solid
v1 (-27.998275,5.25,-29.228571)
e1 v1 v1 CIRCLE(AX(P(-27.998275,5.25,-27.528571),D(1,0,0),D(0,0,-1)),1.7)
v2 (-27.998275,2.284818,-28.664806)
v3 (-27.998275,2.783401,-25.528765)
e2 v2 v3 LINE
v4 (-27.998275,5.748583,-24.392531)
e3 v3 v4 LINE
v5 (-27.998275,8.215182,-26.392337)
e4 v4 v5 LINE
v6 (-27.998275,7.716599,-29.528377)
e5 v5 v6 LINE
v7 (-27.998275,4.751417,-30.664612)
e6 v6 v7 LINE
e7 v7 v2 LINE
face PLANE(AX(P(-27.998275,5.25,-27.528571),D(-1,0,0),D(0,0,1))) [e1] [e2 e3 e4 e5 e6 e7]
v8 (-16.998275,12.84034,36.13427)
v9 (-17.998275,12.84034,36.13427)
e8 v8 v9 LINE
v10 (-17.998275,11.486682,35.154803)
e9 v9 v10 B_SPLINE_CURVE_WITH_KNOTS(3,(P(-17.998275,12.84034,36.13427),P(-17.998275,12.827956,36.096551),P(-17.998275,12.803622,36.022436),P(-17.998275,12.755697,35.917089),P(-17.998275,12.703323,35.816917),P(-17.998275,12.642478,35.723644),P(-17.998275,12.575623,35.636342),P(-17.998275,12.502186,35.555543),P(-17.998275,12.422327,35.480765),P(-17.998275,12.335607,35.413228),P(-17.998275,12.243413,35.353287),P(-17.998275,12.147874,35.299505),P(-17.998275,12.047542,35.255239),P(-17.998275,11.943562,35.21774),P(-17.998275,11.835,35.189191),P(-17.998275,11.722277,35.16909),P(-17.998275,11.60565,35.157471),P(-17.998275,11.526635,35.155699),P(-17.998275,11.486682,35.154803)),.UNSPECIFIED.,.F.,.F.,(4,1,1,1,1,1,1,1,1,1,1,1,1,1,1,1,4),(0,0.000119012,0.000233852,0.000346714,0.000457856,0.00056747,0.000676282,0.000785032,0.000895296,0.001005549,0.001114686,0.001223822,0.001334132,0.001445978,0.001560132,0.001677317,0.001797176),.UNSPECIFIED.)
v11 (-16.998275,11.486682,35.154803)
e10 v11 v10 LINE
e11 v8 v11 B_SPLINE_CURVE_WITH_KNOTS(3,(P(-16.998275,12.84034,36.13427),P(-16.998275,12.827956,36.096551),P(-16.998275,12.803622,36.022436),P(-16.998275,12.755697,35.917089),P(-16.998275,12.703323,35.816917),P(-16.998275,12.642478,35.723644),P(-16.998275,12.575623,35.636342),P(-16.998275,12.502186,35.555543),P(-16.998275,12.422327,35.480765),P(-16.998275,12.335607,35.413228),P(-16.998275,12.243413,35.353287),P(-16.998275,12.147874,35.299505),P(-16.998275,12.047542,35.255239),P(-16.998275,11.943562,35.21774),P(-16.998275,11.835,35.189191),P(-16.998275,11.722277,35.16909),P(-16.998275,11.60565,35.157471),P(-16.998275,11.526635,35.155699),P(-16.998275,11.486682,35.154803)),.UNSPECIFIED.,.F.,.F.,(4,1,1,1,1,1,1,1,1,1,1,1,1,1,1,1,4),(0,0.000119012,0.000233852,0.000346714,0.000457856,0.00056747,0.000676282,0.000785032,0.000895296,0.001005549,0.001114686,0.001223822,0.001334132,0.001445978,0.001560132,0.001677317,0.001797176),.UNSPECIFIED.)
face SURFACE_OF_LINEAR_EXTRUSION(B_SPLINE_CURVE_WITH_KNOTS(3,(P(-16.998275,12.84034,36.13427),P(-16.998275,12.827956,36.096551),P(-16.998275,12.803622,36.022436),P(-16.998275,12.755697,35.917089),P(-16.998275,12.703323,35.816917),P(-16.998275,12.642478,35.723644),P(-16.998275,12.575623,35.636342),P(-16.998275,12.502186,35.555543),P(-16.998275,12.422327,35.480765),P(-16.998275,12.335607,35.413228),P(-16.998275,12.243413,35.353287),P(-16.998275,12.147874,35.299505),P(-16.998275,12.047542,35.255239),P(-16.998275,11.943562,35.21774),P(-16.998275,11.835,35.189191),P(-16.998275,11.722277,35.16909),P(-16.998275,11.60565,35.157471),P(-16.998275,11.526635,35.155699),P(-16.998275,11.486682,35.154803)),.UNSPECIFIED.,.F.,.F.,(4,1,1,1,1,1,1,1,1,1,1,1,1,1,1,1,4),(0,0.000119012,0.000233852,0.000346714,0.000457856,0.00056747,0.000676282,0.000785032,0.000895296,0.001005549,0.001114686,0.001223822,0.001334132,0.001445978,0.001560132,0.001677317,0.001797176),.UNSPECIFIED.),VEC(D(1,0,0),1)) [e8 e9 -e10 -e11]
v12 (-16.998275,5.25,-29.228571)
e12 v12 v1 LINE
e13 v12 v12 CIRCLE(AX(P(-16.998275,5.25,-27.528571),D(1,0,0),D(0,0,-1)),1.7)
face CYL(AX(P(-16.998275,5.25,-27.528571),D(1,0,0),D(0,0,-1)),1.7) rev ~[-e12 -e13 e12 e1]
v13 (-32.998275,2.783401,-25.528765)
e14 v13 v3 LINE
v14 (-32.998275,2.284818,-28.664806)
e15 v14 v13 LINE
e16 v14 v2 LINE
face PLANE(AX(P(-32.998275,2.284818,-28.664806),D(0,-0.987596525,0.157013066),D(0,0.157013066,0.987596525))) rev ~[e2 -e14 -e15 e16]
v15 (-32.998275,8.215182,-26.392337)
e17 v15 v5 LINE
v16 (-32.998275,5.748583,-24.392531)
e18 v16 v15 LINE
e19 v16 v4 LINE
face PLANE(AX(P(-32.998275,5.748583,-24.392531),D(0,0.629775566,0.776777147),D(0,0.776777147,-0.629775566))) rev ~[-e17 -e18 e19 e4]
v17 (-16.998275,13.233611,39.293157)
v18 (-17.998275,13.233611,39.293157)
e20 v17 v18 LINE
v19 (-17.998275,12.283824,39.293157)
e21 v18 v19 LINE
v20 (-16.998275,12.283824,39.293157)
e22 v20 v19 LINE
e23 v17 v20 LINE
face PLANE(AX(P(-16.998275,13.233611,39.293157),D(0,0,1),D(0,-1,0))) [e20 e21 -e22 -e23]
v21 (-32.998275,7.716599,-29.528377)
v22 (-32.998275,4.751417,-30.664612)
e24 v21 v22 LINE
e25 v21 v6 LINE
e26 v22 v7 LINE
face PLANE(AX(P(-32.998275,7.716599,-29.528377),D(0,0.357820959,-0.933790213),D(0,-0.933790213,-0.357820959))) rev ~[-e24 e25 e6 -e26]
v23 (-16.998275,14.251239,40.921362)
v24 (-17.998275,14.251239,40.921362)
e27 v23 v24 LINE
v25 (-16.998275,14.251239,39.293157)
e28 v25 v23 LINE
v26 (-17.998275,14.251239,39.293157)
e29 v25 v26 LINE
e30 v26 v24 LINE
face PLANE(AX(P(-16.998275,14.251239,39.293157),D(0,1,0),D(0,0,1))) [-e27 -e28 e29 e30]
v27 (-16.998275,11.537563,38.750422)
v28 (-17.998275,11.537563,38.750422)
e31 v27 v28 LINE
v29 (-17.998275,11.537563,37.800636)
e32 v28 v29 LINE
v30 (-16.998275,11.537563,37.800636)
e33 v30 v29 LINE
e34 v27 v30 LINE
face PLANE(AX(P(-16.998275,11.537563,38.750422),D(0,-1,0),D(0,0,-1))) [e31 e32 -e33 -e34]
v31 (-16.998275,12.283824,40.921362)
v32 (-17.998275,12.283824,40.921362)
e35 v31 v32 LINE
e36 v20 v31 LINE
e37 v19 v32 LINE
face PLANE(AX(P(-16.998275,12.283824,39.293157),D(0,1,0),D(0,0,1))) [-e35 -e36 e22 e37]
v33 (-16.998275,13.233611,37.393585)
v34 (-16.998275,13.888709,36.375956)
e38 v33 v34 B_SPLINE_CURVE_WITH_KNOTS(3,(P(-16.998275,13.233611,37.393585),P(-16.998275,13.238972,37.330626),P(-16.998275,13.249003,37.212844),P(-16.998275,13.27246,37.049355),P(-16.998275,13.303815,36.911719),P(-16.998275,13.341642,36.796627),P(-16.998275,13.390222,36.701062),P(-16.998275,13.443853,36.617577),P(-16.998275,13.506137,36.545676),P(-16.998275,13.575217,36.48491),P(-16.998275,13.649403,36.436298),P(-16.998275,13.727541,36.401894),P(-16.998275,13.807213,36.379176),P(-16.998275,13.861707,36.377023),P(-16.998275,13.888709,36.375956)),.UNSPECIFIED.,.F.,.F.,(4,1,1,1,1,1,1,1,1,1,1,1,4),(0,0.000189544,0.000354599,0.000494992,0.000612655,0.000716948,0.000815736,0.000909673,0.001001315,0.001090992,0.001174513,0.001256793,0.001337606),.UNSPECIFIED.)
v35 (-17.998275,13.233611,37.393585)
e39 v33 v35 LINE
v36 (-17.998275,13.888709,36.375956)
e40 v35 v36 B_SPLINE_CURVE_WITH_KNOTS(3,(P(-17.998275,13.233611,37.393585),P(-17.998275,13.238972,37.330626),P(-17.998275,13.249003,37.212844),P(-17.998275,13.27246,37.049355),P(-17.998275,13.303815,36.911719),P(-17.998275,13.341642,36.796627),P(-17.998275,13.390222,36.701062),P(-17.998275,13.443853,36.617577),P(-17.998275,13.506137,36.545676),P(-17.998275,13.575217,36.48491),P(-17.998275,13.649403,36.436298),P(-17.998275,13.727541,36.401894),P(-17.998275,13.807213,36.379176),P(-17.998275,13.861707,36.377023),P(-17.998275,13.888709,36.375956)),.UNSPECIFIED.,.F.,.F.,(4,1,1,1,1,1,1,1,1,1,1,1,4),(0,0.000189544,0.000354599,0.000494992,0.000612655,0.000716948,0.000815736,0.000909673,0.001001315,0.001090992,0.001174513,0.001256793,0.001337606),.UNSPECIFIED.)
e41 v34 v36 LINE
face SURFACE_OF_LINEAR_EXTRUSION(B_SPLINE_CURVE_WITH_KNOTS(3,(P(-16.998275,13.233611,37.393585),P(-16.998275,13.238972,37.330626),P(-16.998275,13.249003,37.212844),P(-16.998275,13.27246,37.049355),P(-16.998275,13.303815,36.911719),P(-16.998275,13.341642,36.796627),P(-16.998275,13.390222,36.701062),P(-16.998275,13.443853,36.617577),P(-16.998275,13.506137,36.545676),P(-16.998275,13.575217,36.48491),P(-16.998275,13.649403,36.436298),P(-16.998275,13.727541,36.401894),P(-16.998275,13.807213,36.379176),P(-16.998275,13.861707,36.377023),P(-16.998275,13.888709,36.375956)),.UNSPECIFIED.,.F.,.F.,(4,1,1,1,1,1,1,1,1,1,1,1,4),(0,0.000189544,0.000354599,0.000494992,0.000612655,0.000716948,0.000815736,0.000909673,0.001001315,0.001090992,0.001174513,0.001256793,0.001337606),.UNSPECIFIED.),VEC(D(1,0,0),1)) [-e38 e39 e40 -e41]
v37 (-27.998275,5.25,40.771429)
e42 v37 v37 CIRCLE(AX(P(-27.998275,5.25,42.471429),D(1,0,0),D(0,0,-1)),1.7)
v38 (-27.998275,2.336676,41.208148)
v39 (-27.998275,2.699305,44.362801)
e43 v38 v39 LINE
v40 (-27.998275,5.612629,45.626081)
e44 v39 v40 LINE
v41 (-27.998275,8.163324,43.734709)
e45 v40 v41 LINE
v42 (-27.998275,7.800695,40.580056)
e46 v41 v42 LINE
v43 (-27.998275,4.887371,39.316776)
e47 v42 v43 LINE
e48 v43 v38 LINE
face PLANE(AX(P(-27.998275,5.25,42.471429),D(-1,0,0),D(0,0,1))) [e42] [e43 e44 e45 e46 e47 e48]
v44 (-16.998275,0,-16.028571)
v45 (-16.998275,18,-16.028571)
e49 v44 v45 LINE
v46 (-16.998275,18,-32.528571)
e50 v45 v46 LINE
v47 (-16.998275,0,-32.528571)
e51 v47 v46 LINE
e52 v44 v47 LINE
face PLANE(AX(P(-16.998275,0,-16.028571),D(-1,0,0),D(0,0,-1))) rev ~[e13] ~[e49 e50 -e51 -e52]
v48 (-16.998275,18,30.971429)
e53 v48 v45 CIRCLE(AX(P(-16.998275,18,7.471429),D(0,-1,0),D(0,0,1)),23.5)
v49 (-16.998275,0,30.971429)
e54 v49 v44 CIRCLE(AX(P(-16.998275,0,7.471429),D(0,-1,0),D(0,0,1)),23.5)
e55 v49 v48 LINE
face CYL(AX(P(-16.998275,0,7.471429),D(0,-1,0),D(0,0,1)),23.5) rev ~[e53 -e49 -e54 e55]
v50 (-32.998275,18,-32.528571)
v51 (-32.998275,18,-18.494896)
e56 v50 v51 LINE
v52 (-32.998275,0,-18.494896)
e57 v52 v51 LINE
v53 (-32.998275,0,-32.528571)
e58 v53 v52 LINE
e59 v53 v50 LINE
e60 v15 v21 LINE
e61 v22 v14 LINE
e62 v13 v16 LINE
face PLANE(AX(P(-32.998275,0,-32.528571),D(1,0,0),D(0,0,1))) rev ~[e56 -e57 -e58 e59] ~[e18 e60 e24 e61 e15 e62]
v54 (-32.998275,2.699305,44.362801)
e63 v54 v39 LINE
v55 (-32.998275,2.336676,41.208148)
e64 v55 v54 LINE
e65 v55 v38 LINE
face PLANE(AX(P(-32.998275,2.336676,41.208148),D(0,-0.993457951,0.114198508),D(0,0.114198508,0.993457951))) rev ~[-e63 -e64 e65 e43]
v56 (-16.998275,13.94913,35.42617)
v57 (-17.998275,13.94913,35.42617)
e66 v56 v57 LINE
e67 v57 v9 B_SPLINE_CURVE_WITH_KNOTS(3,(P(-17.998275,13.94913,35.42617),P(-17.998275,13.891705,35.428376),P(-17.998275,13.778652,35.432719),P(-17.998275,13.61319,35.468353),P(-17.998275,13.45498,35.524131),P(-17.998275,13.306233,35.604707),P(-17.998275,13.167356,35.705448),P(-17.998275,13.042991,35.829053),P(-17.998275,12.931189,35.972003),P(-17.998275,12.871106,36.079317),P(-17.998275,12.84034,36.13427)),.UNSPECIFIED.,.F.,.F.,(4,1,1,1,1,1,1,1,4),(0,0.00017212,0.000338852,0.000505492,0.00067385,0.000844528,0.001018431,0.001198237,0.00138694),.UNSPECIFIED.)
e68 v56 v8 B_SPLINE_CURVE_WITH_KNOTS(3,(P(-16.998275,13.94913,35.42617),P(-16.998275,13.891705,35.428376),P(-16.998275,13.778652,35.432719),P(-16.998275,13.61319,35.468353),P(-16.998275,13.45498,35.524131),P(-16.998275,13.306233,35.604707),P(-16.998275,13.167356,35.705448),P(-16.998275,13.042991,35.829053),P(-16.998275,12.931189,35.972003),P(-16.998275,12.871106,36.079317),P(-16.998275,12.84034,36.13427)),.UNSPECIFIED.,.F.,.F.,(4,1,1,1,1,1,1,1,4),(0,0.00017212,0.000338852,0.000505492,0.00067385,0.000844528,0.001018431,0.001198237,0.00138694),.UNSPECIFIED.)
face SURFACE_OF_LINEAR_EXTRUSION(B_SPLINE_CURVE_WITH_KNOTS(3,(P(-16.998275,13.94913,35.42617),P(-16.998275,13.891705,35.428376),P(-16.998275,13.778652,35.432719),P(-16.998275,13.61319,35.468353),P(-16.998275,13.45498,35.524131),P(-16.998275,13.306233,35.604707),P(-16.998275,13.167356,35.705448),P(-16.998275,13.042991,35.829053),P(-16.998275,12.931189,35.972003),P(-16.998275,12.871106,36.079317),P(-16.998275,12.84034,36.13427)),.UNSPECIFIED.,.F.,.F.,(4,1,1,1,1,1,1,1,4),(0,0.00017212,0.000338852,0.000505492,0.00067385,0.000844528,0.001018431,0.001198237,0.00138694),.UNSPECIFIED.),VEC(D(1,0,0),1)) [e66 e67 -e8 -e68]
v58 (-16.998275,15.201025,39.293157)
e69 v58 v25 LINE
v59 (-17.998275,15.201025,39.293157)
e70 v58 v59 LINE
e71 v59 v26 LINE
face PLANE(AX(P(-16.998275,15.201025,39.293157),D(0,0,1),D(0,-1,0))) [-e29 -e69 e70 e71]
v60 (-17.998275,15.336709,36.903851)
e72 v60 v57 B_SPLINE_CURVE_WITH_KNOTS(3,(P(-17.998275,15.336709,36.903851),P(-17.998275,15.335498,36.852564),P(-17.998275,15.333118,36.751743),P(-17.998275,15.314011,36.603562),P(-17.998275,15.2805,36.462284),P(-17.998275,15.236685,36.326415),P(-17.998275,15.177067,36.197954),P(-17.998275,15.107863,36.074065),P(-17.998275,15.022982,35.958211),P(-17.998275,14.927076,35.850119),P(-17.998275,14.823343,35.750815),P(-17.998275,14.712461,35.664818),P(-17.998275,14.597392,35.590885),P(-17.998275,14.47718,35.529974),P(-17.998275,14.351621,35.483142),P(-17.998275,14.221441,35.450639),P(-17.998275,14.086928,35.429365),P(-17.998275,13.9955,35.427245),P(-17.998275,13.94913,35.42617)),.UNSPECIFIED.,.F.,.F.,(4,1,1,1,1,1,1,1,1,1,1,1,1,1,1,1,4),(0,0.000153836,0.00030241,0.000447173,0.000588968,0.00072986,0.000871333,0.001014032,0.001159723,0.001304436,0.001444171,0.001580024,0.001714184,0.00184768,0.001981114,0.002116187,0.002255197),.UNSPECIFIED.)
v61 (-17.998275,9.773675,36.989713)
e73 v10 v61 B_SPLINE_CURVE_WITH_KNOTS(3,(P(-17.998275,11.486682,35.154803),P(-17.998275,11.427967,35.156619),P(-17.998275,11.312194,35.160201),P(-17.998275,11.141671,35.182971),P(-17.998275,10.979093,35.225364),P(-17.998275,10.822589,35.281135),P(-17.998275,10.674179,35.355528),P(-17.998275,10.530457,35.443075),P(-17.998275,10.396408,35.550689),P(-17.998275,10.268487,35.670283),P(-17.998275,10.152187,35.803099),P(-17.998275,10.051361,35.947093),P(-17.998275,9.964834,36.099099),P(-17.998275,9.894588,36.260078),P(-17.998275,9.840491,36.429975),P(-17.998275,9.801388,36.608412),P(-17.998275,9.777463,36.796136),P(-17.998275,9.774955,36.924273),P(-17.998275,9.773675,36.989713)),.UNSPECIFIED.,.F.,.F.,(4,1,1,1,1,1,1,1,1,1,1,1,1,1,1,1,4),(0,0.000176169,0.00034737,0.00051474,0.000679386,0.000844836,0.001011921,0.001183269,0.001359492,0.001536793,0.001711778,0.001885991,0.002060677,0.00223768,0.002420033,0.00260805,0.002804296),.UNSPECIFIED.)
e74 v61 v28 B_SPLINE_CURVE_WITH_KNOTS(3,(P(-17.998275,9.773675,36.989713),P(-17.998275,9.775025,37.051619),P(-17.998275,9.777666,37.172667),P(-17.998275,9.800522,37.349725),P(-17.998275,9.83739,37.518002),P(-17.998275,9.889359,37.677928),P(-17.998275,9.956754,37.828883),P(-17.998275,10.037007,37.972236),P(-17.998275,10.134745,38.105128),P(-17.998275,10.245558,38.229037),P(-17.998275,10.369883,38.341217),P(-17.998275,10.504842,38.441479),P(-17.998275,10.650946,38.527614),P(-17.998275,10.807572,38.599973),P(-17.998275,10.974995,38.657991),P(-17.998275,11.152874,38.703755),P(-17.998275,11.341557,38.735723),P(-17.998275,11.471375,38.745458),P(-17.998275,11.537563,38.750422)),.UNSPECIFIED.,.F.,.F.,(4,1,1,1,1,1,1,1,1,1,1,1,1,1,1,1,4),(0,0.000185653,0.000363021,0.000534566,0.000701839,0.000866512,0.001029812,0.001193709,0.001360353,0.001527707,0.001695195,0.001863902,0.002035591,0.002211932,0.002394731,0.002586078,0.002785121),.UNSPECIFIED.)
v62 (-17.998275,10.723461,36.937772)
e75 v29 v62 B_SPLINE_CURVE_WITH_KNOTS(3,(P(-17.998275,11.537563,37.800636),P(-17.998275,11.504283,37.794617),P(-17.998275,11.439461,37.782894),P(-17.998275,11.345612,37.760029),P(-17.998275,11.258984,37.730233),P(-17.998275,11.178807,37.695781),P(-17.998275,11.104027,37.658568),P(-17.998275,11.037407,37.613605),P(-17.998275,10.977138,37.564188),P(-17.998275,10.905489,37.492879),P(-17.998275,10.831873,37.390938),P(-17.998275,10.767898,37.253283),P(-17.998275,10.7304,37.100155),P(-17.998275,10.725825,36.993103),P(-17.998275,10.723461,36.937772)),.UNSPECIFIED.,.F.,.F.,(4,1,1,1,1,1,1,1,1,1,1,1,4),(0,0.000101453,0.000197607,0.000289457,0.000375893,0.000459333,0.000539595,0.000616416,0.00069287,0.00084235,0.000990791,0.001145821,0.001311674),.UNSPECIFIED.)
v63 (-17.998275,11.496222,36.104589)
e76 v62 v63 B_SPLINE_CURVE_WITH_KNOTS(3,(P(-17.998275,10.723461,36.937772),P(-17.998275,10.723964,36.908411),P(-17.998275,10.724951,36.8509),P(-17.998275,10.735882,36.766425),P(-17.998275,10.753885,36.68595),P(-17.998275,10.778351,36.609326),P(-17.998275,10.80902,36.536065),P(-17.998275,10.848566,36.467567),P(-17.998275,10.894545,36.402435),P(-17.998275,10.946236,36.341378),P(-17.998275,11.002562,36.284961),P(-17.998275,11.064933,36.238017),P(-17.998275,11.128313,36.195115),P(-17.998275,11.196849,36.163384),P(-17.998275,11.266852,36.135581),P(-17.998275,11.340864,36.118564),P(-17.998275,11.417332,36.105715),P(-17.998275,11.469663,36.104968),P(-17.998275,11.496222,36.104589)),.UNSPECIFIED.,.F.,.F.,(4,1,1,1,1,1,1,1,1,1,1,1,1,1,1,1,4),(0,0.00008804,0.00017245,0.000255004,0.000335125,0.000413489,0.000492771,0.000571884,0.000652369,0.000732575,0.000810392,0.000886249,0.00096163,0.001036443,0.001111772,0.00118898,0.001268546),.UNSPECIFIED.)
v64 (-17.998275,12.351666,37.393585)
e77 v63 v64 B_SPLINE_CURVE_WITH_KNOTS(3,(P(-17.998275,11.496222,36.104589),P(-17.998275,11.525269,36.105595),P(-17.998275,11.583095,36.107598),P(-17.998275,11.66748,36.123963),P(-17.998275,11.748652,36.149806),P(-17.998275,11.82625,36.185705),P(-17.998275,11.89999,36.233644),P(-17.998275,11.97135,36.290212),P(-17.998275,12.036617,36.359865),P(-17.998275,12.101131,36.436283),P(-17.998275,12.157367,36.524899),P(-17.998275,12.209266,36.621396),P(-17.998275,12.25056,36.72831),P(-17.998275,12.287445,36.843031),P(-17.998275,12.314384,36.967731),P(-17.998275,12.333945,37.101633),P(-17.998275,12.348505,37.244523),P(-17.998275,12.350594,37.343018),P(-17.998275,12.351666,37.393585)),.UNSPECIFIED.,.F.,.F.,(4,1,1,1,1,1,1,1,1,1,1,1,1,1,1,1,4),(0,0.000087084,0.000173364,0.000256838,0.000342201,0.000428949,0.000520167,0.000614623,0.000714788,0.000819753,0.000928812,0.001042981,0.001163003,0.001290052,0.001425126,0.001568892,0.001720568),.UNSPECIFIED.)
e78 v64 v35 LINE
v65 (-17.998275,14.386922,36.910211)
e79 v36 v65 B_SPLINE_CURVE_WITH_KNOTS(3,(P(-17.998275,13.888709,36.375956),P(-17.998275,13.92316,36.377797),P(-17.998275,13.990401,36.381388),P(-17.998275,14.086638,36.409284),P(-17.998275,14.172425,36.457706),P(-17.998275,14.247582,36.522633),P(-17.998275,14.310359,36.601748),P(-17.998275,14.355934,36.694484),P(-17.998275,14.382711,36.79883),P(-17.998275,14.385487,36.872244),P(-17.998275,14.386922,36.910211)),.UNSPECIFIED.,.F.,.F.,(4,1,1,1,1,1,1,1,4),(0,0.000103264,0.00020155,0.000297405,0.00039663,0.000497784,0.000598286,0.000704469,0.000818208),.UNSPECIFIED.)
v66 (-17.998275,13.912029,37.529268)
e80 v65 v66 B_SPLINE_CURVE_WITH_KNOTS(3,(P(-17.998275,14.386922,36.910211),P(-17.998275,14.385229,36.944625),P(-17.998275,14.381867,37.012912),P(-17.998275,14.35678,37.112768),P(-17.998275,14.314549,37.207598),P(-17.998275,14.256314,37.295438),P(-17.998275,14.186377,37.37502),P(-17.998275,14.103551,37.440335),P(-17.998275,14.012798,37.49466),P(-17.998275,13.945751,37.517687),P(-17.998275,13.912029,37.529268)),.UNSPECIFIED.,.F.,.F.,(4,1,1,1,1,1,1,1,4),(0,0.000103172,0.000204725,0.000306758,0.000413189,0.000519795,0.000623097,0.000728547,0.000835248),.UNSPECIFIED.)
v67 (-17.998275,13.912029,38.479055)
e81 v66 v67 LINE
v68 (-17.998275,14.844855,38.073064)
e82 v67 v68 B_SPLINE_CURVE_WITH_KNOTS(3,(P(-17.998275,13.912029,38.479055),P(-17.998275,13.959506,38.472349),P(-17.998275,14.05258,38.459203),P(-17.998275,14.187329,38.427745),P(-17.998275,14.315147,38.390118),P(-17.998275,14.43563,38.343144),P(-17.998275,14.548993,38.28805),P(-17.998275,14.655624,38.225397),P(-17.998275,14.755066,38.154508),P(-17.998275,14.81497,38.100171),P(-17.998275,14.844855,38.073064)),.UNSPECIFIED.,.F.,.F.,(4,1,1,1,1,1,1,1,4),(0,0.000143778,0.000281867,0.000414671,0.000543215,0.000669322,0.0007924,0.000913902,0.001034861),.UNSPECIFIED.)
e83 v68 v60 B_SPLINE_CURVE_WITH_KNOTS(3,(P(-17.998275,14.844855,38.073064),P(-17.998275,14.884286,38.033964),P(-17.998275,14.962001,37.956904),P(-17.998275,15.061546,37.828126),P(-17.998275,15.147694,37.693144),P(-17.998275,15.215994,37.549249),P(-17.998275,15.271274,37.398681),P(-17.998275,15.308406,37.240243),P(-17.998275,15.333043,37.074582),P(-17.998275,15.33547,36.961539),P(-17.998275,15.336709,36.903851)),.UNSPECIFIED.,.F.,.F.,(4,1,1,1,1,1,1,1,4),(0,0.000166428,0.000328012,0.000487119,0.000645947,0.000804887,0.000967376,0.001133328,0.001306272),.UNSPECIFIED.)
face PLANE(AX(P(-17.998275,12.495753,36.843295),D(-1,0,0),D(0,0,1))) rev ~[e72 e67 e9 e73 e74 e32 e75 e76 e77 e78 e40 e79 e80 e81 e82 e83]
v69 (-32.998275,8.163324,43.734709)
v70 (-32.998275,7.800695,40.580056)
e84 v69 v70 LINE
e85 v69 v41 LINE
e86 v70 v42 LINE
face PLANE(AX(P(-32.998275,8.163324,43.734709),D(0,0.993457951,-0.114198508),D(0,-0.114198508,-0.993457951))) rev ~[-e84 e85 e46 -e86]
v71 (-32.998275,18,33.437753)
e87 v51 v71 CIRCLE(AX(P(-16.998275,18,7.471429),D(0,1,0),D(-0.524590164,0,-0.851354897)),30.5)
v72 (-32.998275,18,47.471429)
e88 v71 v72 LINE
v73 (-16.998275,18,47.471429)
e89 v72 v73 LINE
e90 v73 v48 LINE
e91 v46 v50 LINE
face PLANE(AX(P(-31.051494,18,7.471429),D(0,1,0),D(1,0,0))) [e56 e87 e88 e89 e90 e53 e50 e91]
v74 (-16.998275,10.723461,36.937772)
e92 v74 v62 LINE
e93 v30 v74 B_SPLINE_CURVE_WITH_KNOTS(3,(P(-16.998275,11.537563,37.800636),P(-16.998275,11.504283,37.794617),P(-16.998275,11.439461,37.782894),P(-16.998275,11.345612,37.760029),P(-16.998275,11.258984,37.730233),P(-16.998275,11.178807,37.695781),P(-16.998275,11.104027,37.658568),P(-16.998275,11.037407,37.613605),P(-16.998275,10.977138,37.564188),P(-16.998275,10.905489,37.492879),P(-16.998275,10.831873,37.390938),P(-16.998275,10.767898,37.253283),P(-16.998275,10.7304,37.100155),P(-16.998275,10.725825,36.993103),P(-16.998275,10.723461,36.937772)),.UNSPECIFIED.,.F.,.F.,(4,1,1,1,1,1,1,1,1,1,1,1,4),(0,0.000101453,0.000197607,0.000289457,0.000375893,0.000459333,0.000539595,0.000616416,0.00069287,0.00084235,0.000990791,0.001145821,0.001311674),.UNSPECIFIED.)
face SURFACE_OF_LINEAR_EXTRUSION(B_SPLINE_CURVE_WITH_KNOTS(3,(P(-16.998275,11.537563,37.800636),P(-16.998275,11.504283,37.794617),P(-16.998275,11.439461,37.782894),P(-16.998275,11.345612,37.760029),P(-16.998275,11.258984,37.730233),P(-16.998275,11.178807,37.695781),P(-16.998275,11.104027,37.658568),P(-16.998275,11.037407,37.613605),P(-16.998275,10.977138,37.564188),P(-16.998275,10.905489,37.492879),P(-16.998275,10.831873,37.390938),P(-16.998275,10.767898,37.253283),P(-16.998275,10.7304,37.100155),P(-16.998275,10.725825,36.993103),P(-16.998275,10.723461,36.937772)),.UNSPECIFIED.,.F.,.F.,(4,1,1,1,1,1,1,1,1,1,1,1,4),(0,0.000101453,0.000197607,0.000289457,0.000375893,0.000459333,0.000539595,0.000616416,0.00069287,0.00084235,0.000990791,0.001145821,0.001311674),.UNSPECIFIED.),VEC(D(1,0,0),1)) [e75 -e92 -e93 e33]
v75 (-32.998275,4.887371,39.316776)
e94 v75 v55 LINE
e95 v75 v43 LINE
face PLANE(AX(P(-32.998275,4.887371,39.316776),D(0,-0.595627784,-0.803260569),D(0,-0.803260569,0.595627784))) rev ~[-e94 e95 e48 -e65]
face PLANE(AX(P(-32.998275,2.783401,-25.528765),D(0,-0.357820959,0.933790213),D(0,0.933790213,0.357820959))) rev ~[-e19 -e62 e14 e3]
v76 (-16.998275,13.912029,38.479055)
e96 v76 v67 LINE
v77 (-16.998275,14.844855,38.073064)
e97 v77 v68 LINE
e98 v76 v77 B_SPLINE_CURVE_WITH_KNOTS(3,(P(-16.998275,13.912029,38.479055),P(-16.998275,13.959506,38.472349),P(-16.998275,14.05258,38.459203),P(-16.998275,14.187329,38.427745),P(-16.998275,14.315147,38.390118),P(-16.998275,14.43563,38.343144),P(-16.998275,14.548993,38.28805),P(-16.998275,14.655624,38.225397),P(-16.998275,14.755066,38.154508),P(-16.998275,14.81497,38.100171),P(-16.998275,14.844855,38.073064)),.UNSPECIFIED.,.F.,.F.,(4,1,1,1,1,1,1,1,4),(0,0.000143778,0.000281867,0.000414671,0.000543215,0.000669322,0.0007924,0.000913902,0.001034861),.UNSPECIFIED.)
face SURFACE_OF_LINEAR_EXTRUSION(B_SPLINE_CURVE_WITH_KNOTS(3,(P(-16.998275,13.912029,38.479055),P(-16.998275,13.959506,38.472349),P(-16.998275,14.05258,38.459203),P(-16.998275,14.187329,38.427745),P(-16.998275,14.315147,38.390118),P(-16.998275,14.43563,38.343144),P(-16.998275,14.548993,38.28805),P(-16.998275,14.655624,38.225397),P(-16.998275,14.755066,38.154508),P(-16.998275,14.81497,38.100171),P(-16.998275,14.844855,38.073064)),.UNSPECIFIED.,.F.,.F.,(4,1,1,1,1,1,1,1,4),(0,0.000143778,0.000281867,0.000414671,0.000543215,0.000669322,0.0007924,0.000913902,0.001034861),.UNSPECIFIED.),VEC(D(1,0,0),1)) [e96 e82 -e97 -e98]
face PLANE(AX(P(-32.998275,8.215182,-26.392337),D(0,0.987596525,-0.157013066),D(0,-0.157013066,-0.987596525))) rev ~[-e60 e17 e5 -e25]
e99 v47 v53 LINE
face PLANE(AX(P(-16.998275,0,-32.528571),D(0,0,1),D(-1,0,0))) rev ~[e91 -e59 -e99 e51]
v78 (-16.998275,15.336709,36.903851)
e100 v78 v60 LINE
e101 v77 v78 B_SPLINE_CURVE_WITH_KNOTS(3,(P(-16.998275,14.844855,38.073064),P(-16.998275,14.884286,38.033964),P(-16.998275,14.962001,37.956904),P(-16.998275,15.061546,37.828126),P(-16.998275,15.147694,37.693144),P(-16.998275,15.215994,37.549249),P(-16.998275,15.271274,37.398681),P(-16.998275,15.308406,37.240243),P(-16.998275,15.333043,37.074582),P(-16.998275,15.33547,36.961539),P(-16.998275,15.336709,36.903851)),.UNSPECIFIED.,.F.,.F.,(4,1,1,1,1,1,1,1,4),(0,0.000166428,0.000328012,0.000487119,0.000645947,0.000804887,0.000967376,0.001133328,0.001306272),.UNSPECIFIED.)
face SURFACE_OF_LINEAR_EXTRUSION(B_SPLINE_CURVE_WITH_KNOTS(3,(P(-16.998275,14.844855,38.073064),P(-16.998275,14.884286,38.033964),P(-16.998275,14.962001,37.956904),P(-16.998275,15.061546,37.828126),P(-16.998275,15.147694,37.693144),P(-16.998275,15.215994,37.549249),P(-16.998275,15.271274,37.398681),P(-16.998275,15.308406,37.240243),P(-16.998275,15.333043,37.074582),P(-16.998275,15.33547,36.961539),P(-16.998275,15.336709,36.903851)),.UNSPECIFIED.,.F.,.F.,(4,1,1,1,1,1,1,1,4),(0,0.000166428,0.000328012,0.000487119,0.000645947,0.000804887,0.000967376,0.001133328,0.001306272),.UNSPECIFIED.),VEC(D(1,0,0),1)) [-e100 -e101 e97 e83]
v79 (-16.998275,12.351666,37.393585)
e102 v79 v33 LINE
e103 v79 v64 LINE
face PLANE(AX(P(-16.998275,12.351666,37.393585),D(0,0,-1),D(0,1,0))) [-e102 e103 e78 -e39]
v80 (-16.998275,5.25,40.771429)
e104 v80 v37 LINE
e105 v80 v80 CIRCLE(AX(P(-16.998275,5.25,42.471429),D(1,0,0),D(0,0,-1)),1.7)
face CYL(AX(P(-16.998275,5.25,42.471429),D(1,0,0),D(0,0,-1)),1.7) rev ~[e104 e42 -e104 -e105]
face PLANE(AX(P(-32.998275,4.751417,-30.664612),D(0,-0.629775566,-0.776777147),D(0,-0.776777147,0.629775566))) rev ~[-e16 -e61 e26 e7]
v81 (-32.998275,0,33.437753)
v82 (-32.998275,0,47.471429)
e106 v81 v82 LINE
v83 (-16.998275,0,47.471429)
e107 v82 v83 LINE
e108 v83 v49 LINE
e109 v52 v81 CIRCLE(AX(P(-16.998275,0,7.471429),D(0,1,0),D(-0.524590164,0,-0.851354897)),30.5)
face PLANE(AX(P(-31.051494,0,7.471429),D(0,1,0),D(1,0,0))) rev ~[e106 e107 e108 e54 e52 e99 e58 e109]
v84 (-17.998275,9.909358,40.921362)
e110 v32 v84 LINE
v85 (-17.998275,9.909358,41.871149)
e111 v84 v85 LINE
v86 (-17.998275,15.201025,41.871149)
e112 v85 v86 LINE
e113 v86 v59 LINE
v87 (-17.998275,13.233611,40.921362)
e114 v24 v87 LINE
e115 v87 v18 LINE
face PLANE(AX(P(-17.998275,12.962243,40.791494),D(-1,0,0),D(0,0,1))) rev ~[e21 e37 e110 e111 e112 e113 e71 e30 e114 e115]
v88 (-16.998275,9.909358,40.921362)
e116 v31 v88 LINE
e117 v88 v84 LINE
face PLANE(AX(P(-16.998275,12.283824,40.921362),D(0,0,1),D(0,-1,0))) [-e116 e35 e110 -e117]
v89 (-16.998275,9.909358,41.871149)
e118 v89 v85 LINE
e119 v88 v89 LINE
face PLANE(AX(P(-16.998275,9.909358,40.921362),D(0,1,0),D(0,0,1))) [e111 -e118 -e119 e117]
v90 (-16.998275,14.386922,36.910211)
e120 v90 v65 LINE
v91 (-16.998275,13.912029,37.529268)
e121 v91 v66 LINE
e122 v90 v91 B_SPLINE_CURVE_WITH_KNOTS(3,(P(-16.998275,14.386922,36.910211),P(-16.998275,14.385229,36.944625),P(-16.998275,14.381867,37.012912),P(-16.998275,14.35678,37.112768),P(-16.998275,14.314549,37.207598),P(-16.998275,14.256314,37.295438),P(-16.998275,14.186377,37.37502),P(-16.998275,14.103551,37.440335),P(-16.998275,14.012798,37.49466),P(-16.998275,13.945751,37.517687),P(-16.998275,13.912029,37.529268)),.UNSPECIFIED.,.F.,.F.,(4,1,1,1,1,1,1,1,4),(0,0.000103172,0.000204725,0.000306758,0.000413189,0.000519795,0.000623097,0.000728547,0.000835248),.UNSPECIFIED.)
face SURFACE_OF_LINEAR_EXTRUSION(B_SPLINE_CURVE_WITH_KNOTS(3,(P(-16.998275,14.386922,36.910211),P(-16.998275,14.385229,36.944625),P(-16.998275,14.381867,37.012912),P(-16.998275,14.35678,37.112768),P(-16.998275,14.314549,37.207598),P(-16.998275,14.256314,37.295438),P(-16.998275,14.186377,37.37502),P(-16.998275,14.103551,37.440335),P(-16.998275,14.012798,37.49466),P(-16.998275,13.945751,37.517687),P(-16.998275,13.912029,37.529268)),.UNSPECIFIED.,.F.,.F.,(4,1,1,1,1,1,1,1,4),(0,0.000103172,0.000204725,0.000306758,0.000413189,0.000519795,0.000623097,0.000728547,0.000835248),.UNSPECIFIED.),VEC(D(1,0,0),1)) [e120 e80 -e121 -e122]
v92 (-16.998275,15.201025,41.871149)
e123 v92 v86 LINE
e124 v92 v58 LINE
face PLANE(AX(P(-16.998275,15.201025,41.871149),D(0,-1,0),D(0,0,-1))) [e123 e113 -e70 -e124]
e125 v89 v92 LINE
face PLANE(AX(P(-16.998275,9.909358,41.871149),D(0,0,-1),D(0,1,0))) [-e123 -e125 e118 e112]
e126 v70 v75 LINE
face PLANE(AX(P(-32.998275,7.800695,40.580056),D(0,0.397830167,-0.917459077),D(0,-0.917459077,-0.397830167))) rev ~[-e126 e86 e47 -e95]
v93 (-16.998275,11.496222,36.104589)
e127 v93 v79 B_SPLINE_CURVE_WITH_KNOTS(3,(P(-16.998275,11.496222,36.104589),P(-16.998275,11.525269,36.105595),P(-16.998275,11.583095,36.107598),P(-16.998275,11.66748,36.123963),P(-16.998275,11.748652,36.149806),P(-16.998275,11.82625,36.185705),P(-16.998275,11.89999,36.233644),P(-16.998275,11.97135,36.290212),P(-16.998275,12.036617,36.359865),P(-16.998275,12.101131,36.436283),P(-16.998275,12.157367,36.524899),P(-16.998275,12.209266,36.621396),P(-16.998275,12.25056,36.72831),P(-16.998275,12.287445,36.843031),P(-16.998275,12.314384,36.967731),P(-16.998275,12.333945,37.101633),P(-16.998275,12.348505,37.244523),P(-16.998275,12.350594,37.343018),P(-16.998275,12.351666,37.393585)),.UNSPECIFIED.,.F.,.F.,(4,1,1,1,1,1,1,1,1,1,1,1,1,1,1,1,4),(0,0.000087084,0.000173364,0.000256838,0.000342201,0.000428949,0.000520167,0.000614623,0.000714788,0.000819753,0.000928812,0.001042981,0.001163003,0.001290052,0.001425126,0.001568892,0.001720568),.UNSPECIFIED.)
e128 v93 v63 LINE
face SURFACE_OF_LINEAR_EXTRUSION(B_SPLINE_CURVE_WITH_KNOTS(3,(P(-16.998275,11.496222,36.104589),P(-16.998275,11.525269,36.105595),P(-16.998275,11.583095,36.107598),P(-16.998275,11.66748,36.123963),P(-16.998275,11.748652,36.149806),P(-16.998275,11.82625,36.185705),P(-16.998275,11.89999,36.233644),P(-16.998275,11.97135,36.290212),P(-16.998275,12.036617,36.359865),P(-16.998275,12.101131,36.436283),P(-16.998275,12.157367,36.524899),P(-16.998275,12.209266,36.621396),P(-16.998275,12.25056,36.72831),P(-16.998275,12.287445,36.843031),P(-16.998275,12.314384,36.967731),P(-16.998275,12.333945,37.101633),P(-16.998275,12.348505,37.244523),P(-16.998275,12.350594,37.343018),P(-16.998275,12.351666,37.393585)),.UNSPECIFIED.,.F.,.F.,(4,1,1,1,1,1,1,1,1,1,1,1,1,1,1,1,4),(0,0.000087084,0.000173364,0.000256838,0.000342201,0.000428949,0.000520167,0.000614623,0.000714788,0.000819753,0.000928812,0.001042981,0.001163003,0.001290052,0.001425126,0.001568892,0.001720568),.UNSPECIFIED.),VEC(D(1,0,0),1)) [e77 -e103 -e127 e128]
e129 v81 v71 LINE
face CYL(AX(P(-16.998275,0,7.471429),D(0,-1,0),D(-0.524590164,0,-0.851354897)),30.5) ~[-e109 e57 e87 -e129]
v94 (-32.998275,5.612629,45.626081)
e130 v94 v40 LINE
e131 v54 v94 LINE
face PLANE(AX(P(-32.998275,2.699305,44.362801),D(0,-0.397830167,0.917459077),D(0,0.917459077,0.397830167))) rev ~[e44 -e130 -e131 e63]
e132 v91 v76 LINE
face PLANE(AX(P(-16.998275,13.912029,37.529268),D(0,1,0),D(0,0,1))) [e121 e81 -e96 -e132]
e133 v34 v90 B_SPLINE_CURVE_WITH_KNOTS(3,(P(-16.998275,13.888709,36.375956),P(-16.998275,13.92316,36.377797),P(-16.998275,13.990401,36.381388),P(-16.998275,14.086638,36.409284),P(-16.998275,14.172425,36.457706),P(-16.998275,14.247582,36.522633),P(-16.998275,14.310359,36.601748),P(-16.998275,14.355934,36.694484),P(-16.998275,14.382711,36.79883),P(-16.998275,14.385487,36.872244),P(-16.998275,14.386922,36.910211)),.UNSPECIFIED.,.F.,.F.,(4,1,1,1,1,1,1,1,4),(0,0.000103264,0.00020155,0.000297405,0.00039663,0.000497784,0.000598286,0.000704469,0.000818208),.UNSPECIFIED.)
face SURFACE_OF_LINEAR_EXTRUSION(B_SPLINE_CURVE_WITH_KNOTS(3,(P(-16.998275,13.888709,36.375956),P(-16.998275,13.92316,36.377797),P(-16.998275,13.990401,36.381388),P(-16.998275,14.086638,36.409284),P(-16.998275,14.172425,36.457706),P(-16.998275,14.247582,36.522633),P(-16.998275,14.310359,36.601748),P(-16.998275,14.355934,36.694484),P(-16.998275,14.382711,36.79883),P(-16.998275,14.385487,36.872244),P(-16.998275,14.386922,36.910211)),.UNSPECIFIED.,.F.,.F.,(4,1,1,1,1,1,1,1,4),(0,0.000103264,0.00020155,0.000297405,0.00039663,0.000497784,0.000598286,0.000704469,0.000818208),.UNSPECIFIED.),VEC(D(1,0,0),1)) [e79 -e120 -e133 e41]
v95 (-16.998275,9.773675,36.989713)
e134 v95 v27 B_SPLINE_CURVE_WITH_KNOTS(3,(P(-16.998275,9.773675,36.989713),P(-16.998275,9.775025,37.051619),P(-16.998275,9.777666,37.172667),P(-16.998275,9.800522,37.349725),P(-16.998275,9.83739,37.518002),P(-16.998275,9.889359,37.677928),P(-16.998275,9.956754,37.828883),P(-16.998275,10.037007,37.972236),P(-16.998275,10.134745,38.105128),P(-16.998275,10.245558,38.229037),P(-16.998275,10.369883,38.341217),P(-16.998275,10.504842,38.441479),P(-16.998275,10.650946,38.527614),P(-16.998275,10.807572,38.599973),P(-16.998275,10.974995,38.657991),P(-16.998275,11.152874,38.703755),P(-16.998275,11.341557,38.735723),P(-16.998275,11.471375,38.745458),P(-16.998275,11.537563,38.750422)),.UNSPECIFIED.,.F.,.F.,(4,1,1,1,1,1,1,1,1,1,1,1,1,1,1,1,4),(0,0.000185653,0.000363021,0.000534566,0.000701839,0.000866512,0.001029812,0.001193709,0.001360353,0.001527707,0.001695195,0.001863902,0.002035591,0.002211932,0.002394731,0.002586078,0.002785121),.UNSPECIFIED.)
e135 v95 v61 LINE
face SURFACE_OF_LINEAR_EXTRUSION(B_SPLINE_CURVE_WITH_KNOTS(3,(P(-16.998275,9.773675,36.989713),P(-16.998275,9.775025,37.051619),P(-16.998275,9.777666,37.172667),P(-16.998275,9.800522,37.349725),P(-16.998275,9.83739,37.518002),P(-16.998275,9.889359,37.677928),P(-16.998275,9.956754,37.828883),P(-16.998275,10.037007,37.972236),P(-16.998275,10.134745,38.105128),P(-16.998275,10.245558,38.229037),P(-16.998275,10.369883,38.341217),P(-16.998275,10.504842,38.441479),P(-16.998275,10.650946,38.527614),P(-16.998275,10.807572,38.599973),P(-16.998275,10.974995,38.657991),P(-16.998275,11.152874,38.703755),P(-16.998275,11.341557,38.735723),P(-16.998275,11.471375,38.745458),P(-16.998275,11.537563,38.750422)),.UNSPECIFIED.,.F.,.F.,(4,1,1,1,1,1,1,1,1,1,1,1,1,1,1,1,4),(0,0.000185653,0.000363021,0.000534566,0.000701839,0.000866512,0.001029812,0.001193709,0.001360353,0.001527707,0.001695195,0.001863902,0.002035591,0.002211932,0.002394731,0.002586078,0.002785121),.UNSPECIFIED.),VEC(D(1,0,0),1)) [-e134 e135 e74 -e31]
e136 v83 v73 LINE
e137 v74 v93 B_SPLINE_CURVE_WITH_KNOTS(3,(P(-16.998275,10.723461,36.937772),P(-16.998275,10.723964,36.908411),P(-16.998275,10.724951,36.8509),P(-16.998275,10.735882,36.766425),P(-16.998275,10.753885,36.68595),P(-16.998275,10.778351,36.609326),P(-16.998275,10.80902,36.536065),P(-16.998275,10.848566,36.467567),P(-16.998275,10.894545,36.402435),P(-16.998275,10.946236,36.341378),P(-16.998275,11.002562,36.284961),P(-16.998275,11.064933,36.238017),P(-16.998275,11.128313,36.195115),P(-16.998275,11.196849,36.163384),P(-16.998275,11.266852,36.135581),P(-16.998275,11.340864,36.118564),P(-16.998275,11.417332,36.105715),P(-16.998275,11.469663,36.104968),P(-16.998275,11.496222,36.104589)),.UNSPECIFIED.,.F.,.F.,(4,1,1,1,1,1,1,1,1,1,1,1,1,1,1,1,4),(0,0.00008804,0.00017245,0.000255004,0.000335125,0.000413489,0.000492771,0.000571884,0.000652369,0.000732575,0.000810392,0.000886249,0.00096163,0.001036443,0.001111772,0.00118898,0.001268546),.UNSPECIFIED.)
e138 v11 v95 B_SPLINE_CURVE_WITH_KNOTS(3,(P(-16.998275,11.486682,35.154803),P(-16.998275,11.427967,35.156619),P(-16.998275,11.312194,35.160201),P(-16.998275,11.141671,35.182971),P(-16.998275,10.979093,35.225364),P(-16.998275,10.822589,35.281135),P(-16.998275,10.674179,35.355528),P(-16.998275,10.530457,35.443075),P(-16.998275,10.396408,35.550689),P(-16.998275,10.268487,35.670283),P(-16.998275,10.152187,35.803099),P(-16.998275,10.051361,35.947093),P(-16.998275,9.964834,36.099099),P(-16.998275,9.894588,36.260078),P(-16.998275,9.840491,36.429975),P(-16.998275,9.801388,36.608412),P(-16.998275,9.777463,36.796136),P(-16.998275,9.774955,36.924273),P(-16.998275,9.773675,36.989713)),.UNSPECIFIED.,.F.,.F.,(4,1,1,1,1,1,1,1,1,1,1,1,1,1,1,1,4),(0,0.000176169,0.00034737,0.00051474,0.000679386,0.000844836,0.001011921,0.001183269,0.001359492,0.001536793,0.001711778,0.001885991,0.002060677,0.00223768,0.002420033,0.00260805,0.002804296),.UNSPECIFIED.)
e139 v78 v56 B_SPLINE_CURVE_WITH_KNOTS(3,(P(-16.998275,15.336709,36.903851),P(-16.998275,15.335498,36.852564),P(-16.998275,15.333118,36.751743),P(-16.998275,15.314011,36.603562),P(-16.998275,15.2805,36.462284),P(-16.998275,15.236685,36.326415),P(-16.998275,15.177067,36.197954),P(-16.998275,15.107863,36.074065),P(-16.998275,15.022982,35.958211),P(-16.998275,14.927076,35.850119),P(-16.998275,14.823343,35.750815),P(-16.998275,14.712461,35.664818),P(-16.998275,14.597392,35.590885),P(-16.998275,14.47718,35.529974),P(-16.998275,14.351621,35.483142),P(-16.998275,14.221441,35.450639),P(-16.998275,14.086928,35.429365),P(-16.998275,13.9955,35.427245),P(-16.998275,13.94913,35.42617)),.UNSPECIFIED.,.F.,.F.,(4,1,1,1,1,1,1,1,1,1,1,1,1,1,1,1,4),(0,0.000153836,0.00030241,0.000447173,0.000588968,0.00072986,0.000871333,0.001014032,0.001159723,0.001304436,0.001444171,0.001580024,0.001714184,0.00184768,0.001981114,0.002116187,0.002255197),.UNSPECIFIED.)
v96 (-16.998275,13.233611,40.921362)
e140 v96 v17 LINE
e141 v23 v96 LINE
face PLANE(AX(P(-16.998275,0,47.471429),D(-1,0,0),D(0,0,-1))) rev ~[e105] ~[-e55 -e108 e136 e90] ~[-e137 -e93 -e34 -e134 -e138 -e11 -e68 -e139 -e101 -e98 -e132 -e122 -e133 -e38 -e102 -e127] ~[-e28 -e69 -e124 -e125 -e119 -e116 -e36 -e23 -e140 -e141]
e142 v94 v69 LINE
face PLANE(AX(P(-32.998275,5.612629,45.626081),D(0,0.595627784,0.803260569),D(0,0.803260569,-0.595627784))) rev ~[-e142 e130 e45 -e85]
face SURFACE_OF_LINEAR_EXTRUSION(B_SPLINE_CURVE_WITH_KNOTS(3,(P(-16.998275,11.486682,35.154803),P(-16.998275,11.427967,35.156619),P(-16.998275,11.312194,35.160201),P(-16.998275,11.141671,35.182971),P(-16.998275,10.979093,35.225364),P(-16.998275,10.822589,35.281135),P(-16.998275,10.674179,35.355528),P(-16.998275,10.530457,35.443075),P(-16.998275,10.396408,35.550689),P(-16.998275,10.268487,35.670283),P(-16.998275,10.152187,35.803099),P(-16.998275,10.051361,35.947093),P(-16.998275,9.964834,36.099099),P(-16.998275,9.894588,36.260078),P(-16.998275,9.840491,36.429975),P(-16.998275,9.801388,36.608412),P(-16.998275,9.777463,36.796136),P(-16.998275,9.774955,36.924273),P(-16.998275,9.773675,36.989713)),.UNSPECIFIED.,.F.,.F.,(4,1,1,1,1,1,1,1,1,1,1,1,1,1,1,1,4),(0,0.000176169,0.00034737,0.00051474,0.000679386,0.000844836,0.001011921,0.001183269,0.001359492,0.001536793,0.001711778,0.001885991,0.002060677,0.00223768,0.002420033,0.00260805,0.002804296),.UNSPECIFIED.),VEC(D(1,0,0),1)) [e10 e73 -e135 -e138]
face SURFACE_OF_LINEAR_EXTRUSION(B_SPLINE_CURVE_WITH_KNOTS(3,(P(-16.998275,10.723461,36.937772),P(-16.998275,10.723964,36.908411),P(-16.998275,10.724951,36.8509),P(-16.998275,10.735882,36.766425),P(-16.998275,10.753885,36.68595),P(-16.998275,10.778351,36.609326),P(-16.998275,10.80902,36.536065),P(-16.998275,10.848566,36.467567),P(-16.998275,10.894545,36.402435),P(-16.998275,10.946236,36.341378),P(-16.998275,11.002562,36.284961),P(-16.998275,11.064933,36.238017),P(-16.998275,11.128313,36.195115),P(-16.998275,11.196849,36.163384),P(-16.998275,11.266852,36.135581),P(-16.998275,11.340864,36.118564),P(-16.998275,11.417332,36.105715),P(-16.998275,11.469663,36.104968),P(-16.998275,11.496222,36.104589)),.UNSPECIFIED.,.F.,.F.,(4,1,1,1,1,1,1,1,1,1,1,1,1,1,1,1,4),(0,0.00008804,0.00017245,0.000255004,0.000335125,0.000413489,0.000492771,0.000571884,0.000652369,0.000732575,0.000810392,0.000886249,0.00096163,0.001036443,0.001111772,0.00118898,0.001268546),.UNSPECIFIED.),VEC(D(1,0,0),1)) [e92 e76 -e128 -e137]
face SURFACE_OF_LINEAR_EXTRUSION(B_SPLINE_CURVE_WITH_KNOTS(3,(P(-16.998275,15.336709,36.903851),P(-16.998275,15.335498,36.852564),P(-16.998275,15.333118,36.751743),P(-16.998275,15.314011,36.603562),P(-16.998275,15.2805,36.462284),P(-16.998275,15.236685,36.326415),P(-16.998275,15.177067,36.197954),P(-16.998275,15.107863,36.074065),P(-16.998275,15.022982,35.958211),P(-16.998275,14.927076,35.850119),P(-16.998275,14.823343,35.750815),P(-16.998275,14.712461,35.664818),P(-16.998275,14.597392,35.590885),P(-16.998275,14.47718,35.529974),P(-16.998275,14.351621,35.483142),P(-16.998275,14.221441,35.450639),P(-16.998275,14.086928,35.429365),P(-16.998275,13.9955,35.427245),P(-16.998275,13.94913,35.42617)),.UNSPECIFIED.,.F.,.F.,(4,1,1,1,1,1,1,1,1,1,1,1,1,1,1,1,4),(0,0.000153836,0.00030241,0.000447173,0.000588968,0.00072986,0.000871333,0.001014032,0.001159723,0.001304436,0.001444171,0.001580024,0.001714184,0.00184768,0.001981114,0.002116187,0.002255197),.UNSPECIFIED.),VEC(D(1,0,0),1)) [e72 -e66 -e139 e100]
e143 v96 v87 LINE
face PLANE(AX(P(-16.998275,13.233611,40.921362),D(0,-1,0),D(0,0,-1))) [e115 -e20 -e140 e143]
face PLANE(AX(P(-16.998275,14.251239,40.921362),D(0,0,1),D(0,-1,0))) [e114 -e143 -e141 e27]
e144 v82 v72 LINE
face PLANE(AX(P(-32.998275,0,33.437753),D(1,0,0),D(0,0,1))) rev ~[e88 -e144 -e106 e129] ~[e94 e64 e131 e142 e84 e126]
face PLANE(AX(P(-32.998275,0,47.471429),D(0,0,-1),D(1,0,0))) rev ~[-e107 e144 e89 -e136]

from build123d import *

# Parameters (mm, degrees)
BOSS_EXTRUDE1_DEPTH = 18
SKETCH2_R           = 1.7
CUT_EXTRUDE1_DEPTH  = 31.5
CUT_EXTRUDE2_DEPTH  = 1
CUT_EXTRUDE3_DEPTH  = 5


with BuildPart() as part:
    # Sketch1 → Boss-Extrude1 (new body)
    with BuildSketch(Plane(origin=(0, 0, 0), x_dir=(1, 0, 0), z_dir=(0, 1, 0))):
        with BuildLine():
            Line((-16.998275301, 32.528571429), (-32.998275301, 32.528571429))
            Line((-32.998275301, 32.528571429), (-32.998275301, 18.494895774))
            ThreePointArc((-32.998275301, 18.494895774), (-47.498275301, -7.471428571), (-32.998275301, -33.437752917))
            Line((-32.998275301, -33.437752917), (-32.998275301, -47.471428571))
            Line((-32.998275301, -47.471428571), (-16.998275301, -47.471428571))
            Line((-16.998275301, -47.471428571), (-16.998275301, -30.971428571))
            ThreePointArc((-16.998275301, -30.971428571), (-40.498275301, -7.471428571), (-16.998275301, 16.028571429))
            Line((-16.998275301, 16.028571429), (-16.998275301, 32.528571429))
        make_face()
    extrude(amount=BOSS_EXTRUDE1_DEPTH)

    # Sketch2 → Cut-Extrude1 (cut, through all)
    with BuildSketch(Plane(origin=(-16.998275301, 0, 0), x_dir=(0, 0, -1), z_dir=(1, 0, 0))):
        with Locations((-42.471428571, 5.25)):
            Circle(SKETCH2_R)
        with Locations((27.528571429, 5.25)):
            Circle(SKETCH2_R)
    extrude(amount=-CUT_EXTRUDE1_DEPTH, mode=Mode.SUBTRACT)

    # Sketch3 → Cut-Extrude2 (cut)
    with BuildSketch(Plane(origin=(-16.998275301, 0, 0), x_dir=(0, 0, -1), z_dir=(1, 0, 0))):
        Polygon((-41.871148795, 15.201025034), (-39.293157342, 15.201025034), (-39.293157342, 14.251238709), (-40.92136247, 14.251238709), (-40.92136247, 13.233610504), (-39.293157342, 13.233610504), (-39.293157342, 12.283824179), (-40.92136247, 12.283824179), (-40.92136247, 9.909358367), (-41.871148795, 9.909358367), align=None)
        with BuildLine():
            Line((-37.529268453, 13.912029308), (-38.479054777, 13.912029308))
            add(Edge.make_bspline(
                [(-38.479054777, 13.912029308), (-38.472348925, 13.959505738), (-38.459202545, 14.052580134), (-38.427745016, 14.187328674), (-38.390118416, 14.315146885), (-38.34314353, 14.435629995), (-38.288049629, 14.548992623), (-38.225396959, 14.655623774), (-38.154508221, 14.755065768), (-38.100171252, 14.814970019), (-38.073063525, 14.844855162)],
                knots=[0, 0, 0, 0, 0.000143778, 0.000281867, 0.000414671, 0.000543215, 0.000669322, 0.0007924, 0.000913902, 0.001034861, 0.001034861, 0.001034861, 0.001034861], degree=3))
            add(Edge.make_bspline(
                [(-38.073063525, 14.844855162), (-38.033964221, 14.884286443), (-37.956903602, 14.962001353), (-37.82812627, 15.061545568), (-37.693143844, 15.147694317), (-37.549249192, 15.215993668), (-37.398681424, 15.27127408), (-37.240243172, 15.308406058), (-37.074581872, 15.333043453), (-36.961538875, 15.335470322), (-36.903851118, 15.336708795)],
                knots=[0, 0, 0, 0, 0.000166428, 0.000328012, 0.000487119, 0.000645947, 0.000804887, 0.000967376, 0.001133328, 0.001306272, 0.001306272, 0.001306272, 0.001306272], degree=3))
            add(Edge.make_bspline(
                [(-36.903851118, 15.336708795), (-36.852563734, 15.335498), (-36.751743072, 15.333117822), (-36.603562067, 15.314011042), (-36.462283879, 15.280499879), (-36.326415158, 15.236684784), (-36.197954088, 15.177067025), (-36.07406541, 15.107863497), (-35.958210577, 15.022982493), (-35.850118512, 14.927075501), (-35.750815335, 14.8233427), (-35.664818348, 14.712460867), (-35.590885195, 14.597391911), (-35.529974057, 14.477179826), (-35.483141668, 14.3516212), (-35.450638602, 14.221441367), (-35.429364556, 14.08692758), (-35.427245105, 13.99550037), (-35.426170162, 13.949130336)],
                knots=[0, 0, 0, 0, 0.000153836, 0.00030241, 0.000447173, 0.000588968, 0.00072986, 0.000871333, 0.001014032, 0.001159723, 0.001304436, 0.001444171, 0.001580024, 0.001714184, 0.00184768, 0.001981114, 0.002116187, 0.002255197, 0.002255197, 0.002255197, 0.002255197], degree=3))
            add(Edge.make_bspline(
                [(-35.426170162, 13.949130336), (-35.428376009, 13.89170491), (-35.432718642, 13.778651902), (-35.468353097, 13.613190424), (-35.524130708, 13.454979724), (-35.604706892, 13.306233407), (-35.705447645, 13.167356277), (-35.829053175, 13.042991412), (-35.972002875, 12.931188942), (-36.079317119, 12.87110628), (-36.134269788, 12.840339604)],
                knots=[0, 0, 0, 0, 0.00017212, 0.000338852, 0.000505492, 0.00067385, 0.000844528, 0.001018431, 0.001198237, 0.00138694, 0.00138694, 0.00138694, 0.00138694], degree=3))
            add(Edge.make_bspline(
                [(-36.134269788, 12.840339604), (-36.096551119, 12.827955771), (-36.022435626, 12.803622094), (-35.917089364, 12.755697192), (-35.816917106, 12.703323219), (-35.723643783, 12.642478468), (-35.636341679, 12.575623232), (-35.555542998, 12.502186007), (-35.480764986, 12.422326922), (-35.413228364, 12.335606781), (-35.353286974, 12.243412505), (-35.299504756, 12.147873726), (-35.255238993, 12.047541582), (-35.21774038, 11.943561934), (-35.189191072, 11.835000267), (-35.169089807, 11.722277248), (-35.157470783, 11.605650007), (-35.155698684, 11.526635122), (-35.154802641, 11.486682085)],
                knots=[0, 0, 0, 0, 0.000119012, 0.000233852, 0.000346714, 0.000457856, 0.00056747, 0.000676282, 0.000785032, 0.000895296, 0.001005549, 0.001114686, 0.001223822, 0.001334132, 0.001445978, 0.001560132, 0.001677317, 0.001797176, 0.001797176, 0.001797176, 0.001797176], degree=3))
            add(Edge.make_bspline(
                [(-35.154802641, 11.486682085), (-35.156619041, 11.427967343), (-35.160200611, 11.31219383), (-35.182970562, 11.141671293), (-35.225364107, 10.979093204), (-35.281135164, 10.822588857), (-35.355527701, 10.674178666), (-35.443075211, 10.53045682), (-35.55068869, 10.396407552), (-35.670282595, 10.268486948), (-35.803098598, 10.152187262), (-35.947092752, 10.051360668), (-36.09909875, 9.964833512), (-36.260078289, 9.8945883), (-36.429975443, 9.840491454), (-36.608411526, 9.801387759), (-36.796136276, 9.777463472), (-36.924273105, 9.774955464), (-36.989713498, 9.773674607)],
                knots=[0, 0, 0, 0, 0.000176169, 0.00034737, 0.00051474, 0.000679386, 0.000844836, 0.001011921, 0.001183269, 0.001359492, 0.001536793, 0.001711778, 0.001885991, 0.002060677, 0.00223768, 0.002420033, 0.00260805, 0.002804296, 0.002804296, 0.002804296, 0.002804296], degree=3))
            add(Edge.make_bspline(
                [(-36.989713498, 9.773674607), (-37.051619054, 9.775025054), (-37.172667177, 9.777665676), (-37.349725391, 9.800521596), (-37.518002464, 9.837390049), (-37.677927841, 9.889359191), (-37.828882784, 9.956754287), (-37.972236212, 10.037006724), (-38.105127537, 10.134745277), (-38.229037432, 10.245557842), (-38.341217201, 10.369883248), (-38.441479496, 10.504841559), (-38.527613517, 10.650945966), (-38.599972501, 10.80757225), (-38.657990763, 10.974995181), (-38.703755398, 11.152874295), (-38.735722744, 11.341557113), (-38.745458467, 11.471374906), (-38.750422299, 11.537563496)],
                knots=[0, 0, 0, 0, 0.000185653, 0.000363021, 0.000534566, 0.000701839, 0.000866512, 0.001029812, 0.001193709, 0.001360353, 0.001527707, 0.001695195, 0.001863902, 0.002035591, 0.002211932, 0.002394731, 0.002586078, 0.002785121, 0.002785121, 0.002785121, 0.002785121], degree=3))
            Line((-38.750422299, 11.537563496), (-37.800635974, 11.537563496))
            add(Edge.make_bspline(
                [(-37.800635974, 11.537563496), (-37.794617277, 11.504283004), (-37.782894287, 11.439460519), (-37.760029312, 11.345611971), (-37.730233061, 11.258983964), (-37.695781181, 11.178806552), (-37.658567964, 11.104027033), (-37.613605499, 11.037407199), (-37.564188399, 10.977138049), (-37.492879164, 10.905489419), (-37.3909377, 10.831873443), (-37.253282951, 10.767897658), (-37.100155079, 10.730399988), (-36.993103425, 10.725825387), (-36.937772058, 10.723460932)],
                knots=[0, 0, 0, 0, 0.000101453, 0.000197607, 0.000289457, 0.000375893, 0.000459333, 0.000539595, 0.000616416, 0.00069287, 0.00084235, 0.000990791, 0.001145821, 0.001311674, 0.001311674, 0.001311674, 0.001311674], degree=3))
            add(Edge.make_bspline(
                [(-36.937772058, 10.723460932), (-36.90841128, 10.72396442), (-36.850900082, 10.724950642), (-36.766424697, 10.735881586), (-36.685949998, 10.753884861), (-36.609326097, 10.778350644), (-36.536065202, 10.809020032), (-36.467567036, 10.848566373), (-36.402435434, 10.89454464), (-36.341378437, 10.946236417), (-36.284960514, 11.002561951), (-36.238017483, 11.06493291), (-36.19511495, 11.128312952), (-36.163383928, 11.196848623), (-36.135580716, 11.266851971), (-36.11856373, 11.340863899), (-36.105714684, 11.417331835), (-36.104967949, 11.469663134), (-36.104588966, 11.49622235)],
                knots=[0, 0, 0, 0, 8.804e-05, 0.00017245, 0.000255004, 0.000335125, 0.000413489, 0.000492771, 0.000571884, 0.000652369, 0.000732575, 0.000810392, 0.000886249, 0.00096163, 0.001036443, 0.001111772, 0.00118898, 0.001268546, 0.001268546, 0.001268546, 0.001268546], degree=3))
            add(Edge.make_bspline(
                [(-36.104588966, 11.49622235), (-36.105595096, 11.525269377), (-36.10759807, 11.583095353), (-36.123962582, 11.667480206), (-36.149805605, 11.748651634), (-36.18570472, 11.82625017), (-36.233643988, 11.899989803), (-36.290211789, 11.971349973), (-36.35986473, 12.036616511), (-36.436283336, 12.101130505), (-36.524898897, 12.15736725), (-36.621395711, 12.209265504), (-36.728309865, 12.250560491), (-36.843031489, 12.287444563), (-36.967730649, 12.314384117), (-37.101633011, 12.333944858), (-37.244522568, 12.348504799), (-37.343018198, 12.350593662), (-37.393584692, 12.35166606)],
                knots=[0, 0, 0, 0, 8.7084e-05, 0.000173364, 0.000256838, 0.000342201, 0.000428949, 0.000520167, 0.000614623, 0.000714788, 0.000819753, 0.000928812, 0.001042981, 0.001163003, 0.001290052, 0.001425126, 0.001568892, 0.001720568, 0.001720568, 0.001720568, 0.001720568], degree=3))
            Line((-37.393584692, 12.35166606), (-37.393584692, 13.233610504))
            add(Edge.make_bspline(
                [(-37.393584692, 13.233610504), (-37.330626399, 13.238972234), (-37.212843901, 13.249002968), (-37.049355478, 13.272460189), (-36.911719301, 13.303814627), (-36.796627281, 13.34164206), (-36.701062242, 13.390222338), (-36.617577152, 13.44385282), (-36.545675843, 13.506136787), (-36.484909592, 13.57521694), (-36.436298482, 13.649402546), (-36.40189437, 13.727540541), (-36.379175692, 13.80721324), (-36.377023099, 13.861706965), (-36.375956487, 13.888708661)],
                knots=[0, 0, 0, 0, 0.000189544, 0.000354599, 0.000494992, 0.000612655, 0.000716948, 0.000815736, 0.000909673, 0.001001315, 0.001090992, 0.001174513, 0.001256793, 0.001337606, 0.001337606, 0.001337606, 0.001337606], degree=3))
            add(Edge.make_bspline(
                [(-36.375956487, 13.888708661), (-36.377796698, 13.923159894), (-36.3813884, 13.990401408), (-36.409283508, 14.086638178), (-36.457706253, 14.172425283), (-36.522632653, 14.247582201), (-36.601747728, 14.310358892), (-36.694484465, 14.355933699), (-36.798830471, 14.382710933), (-36.872243509, 14.38548683), (-36.910211295, 14.38692247)],
                knots=[0, 0, 0, 0, 0.000103264, 0.00020155, 0.000297405, 0.00039663, 0.000497784, 0.000598286, 0.000704469, 0.000818208, 0.000818208, 0.000818208, 0.000818208], degree=3))
            add(Edge.make_bspline(
                [(-36.910211295, 14.38692247), (-36.944624824, 14.385228566), (-37.012911806, 14.381867343), (-37.112767812, 14.356780059), (-37.20759775, 14.314548739), (-37.295437959, 14.256314238), (-37.375020447, 14.18637707), (-37.440334709, 14.103551012), (-37.494660015, 14.012798316), (-37.517687082, 13.945750658), (-37.529268453, 13.912029308)],
                knots=[0, 0, 0, 0, 0.000103172, 0.000204725, 0.000306758, 0.000413189, 0.000519795, 0.000623097, 0.000728547, 0.000835248, 0.000835248, 0.000835248, 0.000835248], degree=3))
        make_face()
    extrude(amount=-CUT_EXTRUDE2_DEPTH, mode=Mode.SUBTRACT)

    # Sketch4 → Cut-Extrude3 (cut)
    with BuildSketch(Plane.ZY.offset(32.998275301)):
        Polygon((-25.528765418, 2.783401278), (-24.392531269, 5.748583447), (-26.39233728, 8.215182169), (-29.528377439, 7.716598722), (-30.664611588, 4.751416553), (-28.664805577, 2.284817831), align=None)
        Polygon((44.362800811, 2.699305117), (45.626081257, 5.612628966), (43.734709018, 8.163323849), (40.580056332, 7.800694883), (39.316775886, 4.887371034), (41.208148125, 2.336676151), align=None)
    extrude(amount=-CUT_EXTRUDE3_DEPTH, mode=Mode.SUBTRACT)


solid = part.part
